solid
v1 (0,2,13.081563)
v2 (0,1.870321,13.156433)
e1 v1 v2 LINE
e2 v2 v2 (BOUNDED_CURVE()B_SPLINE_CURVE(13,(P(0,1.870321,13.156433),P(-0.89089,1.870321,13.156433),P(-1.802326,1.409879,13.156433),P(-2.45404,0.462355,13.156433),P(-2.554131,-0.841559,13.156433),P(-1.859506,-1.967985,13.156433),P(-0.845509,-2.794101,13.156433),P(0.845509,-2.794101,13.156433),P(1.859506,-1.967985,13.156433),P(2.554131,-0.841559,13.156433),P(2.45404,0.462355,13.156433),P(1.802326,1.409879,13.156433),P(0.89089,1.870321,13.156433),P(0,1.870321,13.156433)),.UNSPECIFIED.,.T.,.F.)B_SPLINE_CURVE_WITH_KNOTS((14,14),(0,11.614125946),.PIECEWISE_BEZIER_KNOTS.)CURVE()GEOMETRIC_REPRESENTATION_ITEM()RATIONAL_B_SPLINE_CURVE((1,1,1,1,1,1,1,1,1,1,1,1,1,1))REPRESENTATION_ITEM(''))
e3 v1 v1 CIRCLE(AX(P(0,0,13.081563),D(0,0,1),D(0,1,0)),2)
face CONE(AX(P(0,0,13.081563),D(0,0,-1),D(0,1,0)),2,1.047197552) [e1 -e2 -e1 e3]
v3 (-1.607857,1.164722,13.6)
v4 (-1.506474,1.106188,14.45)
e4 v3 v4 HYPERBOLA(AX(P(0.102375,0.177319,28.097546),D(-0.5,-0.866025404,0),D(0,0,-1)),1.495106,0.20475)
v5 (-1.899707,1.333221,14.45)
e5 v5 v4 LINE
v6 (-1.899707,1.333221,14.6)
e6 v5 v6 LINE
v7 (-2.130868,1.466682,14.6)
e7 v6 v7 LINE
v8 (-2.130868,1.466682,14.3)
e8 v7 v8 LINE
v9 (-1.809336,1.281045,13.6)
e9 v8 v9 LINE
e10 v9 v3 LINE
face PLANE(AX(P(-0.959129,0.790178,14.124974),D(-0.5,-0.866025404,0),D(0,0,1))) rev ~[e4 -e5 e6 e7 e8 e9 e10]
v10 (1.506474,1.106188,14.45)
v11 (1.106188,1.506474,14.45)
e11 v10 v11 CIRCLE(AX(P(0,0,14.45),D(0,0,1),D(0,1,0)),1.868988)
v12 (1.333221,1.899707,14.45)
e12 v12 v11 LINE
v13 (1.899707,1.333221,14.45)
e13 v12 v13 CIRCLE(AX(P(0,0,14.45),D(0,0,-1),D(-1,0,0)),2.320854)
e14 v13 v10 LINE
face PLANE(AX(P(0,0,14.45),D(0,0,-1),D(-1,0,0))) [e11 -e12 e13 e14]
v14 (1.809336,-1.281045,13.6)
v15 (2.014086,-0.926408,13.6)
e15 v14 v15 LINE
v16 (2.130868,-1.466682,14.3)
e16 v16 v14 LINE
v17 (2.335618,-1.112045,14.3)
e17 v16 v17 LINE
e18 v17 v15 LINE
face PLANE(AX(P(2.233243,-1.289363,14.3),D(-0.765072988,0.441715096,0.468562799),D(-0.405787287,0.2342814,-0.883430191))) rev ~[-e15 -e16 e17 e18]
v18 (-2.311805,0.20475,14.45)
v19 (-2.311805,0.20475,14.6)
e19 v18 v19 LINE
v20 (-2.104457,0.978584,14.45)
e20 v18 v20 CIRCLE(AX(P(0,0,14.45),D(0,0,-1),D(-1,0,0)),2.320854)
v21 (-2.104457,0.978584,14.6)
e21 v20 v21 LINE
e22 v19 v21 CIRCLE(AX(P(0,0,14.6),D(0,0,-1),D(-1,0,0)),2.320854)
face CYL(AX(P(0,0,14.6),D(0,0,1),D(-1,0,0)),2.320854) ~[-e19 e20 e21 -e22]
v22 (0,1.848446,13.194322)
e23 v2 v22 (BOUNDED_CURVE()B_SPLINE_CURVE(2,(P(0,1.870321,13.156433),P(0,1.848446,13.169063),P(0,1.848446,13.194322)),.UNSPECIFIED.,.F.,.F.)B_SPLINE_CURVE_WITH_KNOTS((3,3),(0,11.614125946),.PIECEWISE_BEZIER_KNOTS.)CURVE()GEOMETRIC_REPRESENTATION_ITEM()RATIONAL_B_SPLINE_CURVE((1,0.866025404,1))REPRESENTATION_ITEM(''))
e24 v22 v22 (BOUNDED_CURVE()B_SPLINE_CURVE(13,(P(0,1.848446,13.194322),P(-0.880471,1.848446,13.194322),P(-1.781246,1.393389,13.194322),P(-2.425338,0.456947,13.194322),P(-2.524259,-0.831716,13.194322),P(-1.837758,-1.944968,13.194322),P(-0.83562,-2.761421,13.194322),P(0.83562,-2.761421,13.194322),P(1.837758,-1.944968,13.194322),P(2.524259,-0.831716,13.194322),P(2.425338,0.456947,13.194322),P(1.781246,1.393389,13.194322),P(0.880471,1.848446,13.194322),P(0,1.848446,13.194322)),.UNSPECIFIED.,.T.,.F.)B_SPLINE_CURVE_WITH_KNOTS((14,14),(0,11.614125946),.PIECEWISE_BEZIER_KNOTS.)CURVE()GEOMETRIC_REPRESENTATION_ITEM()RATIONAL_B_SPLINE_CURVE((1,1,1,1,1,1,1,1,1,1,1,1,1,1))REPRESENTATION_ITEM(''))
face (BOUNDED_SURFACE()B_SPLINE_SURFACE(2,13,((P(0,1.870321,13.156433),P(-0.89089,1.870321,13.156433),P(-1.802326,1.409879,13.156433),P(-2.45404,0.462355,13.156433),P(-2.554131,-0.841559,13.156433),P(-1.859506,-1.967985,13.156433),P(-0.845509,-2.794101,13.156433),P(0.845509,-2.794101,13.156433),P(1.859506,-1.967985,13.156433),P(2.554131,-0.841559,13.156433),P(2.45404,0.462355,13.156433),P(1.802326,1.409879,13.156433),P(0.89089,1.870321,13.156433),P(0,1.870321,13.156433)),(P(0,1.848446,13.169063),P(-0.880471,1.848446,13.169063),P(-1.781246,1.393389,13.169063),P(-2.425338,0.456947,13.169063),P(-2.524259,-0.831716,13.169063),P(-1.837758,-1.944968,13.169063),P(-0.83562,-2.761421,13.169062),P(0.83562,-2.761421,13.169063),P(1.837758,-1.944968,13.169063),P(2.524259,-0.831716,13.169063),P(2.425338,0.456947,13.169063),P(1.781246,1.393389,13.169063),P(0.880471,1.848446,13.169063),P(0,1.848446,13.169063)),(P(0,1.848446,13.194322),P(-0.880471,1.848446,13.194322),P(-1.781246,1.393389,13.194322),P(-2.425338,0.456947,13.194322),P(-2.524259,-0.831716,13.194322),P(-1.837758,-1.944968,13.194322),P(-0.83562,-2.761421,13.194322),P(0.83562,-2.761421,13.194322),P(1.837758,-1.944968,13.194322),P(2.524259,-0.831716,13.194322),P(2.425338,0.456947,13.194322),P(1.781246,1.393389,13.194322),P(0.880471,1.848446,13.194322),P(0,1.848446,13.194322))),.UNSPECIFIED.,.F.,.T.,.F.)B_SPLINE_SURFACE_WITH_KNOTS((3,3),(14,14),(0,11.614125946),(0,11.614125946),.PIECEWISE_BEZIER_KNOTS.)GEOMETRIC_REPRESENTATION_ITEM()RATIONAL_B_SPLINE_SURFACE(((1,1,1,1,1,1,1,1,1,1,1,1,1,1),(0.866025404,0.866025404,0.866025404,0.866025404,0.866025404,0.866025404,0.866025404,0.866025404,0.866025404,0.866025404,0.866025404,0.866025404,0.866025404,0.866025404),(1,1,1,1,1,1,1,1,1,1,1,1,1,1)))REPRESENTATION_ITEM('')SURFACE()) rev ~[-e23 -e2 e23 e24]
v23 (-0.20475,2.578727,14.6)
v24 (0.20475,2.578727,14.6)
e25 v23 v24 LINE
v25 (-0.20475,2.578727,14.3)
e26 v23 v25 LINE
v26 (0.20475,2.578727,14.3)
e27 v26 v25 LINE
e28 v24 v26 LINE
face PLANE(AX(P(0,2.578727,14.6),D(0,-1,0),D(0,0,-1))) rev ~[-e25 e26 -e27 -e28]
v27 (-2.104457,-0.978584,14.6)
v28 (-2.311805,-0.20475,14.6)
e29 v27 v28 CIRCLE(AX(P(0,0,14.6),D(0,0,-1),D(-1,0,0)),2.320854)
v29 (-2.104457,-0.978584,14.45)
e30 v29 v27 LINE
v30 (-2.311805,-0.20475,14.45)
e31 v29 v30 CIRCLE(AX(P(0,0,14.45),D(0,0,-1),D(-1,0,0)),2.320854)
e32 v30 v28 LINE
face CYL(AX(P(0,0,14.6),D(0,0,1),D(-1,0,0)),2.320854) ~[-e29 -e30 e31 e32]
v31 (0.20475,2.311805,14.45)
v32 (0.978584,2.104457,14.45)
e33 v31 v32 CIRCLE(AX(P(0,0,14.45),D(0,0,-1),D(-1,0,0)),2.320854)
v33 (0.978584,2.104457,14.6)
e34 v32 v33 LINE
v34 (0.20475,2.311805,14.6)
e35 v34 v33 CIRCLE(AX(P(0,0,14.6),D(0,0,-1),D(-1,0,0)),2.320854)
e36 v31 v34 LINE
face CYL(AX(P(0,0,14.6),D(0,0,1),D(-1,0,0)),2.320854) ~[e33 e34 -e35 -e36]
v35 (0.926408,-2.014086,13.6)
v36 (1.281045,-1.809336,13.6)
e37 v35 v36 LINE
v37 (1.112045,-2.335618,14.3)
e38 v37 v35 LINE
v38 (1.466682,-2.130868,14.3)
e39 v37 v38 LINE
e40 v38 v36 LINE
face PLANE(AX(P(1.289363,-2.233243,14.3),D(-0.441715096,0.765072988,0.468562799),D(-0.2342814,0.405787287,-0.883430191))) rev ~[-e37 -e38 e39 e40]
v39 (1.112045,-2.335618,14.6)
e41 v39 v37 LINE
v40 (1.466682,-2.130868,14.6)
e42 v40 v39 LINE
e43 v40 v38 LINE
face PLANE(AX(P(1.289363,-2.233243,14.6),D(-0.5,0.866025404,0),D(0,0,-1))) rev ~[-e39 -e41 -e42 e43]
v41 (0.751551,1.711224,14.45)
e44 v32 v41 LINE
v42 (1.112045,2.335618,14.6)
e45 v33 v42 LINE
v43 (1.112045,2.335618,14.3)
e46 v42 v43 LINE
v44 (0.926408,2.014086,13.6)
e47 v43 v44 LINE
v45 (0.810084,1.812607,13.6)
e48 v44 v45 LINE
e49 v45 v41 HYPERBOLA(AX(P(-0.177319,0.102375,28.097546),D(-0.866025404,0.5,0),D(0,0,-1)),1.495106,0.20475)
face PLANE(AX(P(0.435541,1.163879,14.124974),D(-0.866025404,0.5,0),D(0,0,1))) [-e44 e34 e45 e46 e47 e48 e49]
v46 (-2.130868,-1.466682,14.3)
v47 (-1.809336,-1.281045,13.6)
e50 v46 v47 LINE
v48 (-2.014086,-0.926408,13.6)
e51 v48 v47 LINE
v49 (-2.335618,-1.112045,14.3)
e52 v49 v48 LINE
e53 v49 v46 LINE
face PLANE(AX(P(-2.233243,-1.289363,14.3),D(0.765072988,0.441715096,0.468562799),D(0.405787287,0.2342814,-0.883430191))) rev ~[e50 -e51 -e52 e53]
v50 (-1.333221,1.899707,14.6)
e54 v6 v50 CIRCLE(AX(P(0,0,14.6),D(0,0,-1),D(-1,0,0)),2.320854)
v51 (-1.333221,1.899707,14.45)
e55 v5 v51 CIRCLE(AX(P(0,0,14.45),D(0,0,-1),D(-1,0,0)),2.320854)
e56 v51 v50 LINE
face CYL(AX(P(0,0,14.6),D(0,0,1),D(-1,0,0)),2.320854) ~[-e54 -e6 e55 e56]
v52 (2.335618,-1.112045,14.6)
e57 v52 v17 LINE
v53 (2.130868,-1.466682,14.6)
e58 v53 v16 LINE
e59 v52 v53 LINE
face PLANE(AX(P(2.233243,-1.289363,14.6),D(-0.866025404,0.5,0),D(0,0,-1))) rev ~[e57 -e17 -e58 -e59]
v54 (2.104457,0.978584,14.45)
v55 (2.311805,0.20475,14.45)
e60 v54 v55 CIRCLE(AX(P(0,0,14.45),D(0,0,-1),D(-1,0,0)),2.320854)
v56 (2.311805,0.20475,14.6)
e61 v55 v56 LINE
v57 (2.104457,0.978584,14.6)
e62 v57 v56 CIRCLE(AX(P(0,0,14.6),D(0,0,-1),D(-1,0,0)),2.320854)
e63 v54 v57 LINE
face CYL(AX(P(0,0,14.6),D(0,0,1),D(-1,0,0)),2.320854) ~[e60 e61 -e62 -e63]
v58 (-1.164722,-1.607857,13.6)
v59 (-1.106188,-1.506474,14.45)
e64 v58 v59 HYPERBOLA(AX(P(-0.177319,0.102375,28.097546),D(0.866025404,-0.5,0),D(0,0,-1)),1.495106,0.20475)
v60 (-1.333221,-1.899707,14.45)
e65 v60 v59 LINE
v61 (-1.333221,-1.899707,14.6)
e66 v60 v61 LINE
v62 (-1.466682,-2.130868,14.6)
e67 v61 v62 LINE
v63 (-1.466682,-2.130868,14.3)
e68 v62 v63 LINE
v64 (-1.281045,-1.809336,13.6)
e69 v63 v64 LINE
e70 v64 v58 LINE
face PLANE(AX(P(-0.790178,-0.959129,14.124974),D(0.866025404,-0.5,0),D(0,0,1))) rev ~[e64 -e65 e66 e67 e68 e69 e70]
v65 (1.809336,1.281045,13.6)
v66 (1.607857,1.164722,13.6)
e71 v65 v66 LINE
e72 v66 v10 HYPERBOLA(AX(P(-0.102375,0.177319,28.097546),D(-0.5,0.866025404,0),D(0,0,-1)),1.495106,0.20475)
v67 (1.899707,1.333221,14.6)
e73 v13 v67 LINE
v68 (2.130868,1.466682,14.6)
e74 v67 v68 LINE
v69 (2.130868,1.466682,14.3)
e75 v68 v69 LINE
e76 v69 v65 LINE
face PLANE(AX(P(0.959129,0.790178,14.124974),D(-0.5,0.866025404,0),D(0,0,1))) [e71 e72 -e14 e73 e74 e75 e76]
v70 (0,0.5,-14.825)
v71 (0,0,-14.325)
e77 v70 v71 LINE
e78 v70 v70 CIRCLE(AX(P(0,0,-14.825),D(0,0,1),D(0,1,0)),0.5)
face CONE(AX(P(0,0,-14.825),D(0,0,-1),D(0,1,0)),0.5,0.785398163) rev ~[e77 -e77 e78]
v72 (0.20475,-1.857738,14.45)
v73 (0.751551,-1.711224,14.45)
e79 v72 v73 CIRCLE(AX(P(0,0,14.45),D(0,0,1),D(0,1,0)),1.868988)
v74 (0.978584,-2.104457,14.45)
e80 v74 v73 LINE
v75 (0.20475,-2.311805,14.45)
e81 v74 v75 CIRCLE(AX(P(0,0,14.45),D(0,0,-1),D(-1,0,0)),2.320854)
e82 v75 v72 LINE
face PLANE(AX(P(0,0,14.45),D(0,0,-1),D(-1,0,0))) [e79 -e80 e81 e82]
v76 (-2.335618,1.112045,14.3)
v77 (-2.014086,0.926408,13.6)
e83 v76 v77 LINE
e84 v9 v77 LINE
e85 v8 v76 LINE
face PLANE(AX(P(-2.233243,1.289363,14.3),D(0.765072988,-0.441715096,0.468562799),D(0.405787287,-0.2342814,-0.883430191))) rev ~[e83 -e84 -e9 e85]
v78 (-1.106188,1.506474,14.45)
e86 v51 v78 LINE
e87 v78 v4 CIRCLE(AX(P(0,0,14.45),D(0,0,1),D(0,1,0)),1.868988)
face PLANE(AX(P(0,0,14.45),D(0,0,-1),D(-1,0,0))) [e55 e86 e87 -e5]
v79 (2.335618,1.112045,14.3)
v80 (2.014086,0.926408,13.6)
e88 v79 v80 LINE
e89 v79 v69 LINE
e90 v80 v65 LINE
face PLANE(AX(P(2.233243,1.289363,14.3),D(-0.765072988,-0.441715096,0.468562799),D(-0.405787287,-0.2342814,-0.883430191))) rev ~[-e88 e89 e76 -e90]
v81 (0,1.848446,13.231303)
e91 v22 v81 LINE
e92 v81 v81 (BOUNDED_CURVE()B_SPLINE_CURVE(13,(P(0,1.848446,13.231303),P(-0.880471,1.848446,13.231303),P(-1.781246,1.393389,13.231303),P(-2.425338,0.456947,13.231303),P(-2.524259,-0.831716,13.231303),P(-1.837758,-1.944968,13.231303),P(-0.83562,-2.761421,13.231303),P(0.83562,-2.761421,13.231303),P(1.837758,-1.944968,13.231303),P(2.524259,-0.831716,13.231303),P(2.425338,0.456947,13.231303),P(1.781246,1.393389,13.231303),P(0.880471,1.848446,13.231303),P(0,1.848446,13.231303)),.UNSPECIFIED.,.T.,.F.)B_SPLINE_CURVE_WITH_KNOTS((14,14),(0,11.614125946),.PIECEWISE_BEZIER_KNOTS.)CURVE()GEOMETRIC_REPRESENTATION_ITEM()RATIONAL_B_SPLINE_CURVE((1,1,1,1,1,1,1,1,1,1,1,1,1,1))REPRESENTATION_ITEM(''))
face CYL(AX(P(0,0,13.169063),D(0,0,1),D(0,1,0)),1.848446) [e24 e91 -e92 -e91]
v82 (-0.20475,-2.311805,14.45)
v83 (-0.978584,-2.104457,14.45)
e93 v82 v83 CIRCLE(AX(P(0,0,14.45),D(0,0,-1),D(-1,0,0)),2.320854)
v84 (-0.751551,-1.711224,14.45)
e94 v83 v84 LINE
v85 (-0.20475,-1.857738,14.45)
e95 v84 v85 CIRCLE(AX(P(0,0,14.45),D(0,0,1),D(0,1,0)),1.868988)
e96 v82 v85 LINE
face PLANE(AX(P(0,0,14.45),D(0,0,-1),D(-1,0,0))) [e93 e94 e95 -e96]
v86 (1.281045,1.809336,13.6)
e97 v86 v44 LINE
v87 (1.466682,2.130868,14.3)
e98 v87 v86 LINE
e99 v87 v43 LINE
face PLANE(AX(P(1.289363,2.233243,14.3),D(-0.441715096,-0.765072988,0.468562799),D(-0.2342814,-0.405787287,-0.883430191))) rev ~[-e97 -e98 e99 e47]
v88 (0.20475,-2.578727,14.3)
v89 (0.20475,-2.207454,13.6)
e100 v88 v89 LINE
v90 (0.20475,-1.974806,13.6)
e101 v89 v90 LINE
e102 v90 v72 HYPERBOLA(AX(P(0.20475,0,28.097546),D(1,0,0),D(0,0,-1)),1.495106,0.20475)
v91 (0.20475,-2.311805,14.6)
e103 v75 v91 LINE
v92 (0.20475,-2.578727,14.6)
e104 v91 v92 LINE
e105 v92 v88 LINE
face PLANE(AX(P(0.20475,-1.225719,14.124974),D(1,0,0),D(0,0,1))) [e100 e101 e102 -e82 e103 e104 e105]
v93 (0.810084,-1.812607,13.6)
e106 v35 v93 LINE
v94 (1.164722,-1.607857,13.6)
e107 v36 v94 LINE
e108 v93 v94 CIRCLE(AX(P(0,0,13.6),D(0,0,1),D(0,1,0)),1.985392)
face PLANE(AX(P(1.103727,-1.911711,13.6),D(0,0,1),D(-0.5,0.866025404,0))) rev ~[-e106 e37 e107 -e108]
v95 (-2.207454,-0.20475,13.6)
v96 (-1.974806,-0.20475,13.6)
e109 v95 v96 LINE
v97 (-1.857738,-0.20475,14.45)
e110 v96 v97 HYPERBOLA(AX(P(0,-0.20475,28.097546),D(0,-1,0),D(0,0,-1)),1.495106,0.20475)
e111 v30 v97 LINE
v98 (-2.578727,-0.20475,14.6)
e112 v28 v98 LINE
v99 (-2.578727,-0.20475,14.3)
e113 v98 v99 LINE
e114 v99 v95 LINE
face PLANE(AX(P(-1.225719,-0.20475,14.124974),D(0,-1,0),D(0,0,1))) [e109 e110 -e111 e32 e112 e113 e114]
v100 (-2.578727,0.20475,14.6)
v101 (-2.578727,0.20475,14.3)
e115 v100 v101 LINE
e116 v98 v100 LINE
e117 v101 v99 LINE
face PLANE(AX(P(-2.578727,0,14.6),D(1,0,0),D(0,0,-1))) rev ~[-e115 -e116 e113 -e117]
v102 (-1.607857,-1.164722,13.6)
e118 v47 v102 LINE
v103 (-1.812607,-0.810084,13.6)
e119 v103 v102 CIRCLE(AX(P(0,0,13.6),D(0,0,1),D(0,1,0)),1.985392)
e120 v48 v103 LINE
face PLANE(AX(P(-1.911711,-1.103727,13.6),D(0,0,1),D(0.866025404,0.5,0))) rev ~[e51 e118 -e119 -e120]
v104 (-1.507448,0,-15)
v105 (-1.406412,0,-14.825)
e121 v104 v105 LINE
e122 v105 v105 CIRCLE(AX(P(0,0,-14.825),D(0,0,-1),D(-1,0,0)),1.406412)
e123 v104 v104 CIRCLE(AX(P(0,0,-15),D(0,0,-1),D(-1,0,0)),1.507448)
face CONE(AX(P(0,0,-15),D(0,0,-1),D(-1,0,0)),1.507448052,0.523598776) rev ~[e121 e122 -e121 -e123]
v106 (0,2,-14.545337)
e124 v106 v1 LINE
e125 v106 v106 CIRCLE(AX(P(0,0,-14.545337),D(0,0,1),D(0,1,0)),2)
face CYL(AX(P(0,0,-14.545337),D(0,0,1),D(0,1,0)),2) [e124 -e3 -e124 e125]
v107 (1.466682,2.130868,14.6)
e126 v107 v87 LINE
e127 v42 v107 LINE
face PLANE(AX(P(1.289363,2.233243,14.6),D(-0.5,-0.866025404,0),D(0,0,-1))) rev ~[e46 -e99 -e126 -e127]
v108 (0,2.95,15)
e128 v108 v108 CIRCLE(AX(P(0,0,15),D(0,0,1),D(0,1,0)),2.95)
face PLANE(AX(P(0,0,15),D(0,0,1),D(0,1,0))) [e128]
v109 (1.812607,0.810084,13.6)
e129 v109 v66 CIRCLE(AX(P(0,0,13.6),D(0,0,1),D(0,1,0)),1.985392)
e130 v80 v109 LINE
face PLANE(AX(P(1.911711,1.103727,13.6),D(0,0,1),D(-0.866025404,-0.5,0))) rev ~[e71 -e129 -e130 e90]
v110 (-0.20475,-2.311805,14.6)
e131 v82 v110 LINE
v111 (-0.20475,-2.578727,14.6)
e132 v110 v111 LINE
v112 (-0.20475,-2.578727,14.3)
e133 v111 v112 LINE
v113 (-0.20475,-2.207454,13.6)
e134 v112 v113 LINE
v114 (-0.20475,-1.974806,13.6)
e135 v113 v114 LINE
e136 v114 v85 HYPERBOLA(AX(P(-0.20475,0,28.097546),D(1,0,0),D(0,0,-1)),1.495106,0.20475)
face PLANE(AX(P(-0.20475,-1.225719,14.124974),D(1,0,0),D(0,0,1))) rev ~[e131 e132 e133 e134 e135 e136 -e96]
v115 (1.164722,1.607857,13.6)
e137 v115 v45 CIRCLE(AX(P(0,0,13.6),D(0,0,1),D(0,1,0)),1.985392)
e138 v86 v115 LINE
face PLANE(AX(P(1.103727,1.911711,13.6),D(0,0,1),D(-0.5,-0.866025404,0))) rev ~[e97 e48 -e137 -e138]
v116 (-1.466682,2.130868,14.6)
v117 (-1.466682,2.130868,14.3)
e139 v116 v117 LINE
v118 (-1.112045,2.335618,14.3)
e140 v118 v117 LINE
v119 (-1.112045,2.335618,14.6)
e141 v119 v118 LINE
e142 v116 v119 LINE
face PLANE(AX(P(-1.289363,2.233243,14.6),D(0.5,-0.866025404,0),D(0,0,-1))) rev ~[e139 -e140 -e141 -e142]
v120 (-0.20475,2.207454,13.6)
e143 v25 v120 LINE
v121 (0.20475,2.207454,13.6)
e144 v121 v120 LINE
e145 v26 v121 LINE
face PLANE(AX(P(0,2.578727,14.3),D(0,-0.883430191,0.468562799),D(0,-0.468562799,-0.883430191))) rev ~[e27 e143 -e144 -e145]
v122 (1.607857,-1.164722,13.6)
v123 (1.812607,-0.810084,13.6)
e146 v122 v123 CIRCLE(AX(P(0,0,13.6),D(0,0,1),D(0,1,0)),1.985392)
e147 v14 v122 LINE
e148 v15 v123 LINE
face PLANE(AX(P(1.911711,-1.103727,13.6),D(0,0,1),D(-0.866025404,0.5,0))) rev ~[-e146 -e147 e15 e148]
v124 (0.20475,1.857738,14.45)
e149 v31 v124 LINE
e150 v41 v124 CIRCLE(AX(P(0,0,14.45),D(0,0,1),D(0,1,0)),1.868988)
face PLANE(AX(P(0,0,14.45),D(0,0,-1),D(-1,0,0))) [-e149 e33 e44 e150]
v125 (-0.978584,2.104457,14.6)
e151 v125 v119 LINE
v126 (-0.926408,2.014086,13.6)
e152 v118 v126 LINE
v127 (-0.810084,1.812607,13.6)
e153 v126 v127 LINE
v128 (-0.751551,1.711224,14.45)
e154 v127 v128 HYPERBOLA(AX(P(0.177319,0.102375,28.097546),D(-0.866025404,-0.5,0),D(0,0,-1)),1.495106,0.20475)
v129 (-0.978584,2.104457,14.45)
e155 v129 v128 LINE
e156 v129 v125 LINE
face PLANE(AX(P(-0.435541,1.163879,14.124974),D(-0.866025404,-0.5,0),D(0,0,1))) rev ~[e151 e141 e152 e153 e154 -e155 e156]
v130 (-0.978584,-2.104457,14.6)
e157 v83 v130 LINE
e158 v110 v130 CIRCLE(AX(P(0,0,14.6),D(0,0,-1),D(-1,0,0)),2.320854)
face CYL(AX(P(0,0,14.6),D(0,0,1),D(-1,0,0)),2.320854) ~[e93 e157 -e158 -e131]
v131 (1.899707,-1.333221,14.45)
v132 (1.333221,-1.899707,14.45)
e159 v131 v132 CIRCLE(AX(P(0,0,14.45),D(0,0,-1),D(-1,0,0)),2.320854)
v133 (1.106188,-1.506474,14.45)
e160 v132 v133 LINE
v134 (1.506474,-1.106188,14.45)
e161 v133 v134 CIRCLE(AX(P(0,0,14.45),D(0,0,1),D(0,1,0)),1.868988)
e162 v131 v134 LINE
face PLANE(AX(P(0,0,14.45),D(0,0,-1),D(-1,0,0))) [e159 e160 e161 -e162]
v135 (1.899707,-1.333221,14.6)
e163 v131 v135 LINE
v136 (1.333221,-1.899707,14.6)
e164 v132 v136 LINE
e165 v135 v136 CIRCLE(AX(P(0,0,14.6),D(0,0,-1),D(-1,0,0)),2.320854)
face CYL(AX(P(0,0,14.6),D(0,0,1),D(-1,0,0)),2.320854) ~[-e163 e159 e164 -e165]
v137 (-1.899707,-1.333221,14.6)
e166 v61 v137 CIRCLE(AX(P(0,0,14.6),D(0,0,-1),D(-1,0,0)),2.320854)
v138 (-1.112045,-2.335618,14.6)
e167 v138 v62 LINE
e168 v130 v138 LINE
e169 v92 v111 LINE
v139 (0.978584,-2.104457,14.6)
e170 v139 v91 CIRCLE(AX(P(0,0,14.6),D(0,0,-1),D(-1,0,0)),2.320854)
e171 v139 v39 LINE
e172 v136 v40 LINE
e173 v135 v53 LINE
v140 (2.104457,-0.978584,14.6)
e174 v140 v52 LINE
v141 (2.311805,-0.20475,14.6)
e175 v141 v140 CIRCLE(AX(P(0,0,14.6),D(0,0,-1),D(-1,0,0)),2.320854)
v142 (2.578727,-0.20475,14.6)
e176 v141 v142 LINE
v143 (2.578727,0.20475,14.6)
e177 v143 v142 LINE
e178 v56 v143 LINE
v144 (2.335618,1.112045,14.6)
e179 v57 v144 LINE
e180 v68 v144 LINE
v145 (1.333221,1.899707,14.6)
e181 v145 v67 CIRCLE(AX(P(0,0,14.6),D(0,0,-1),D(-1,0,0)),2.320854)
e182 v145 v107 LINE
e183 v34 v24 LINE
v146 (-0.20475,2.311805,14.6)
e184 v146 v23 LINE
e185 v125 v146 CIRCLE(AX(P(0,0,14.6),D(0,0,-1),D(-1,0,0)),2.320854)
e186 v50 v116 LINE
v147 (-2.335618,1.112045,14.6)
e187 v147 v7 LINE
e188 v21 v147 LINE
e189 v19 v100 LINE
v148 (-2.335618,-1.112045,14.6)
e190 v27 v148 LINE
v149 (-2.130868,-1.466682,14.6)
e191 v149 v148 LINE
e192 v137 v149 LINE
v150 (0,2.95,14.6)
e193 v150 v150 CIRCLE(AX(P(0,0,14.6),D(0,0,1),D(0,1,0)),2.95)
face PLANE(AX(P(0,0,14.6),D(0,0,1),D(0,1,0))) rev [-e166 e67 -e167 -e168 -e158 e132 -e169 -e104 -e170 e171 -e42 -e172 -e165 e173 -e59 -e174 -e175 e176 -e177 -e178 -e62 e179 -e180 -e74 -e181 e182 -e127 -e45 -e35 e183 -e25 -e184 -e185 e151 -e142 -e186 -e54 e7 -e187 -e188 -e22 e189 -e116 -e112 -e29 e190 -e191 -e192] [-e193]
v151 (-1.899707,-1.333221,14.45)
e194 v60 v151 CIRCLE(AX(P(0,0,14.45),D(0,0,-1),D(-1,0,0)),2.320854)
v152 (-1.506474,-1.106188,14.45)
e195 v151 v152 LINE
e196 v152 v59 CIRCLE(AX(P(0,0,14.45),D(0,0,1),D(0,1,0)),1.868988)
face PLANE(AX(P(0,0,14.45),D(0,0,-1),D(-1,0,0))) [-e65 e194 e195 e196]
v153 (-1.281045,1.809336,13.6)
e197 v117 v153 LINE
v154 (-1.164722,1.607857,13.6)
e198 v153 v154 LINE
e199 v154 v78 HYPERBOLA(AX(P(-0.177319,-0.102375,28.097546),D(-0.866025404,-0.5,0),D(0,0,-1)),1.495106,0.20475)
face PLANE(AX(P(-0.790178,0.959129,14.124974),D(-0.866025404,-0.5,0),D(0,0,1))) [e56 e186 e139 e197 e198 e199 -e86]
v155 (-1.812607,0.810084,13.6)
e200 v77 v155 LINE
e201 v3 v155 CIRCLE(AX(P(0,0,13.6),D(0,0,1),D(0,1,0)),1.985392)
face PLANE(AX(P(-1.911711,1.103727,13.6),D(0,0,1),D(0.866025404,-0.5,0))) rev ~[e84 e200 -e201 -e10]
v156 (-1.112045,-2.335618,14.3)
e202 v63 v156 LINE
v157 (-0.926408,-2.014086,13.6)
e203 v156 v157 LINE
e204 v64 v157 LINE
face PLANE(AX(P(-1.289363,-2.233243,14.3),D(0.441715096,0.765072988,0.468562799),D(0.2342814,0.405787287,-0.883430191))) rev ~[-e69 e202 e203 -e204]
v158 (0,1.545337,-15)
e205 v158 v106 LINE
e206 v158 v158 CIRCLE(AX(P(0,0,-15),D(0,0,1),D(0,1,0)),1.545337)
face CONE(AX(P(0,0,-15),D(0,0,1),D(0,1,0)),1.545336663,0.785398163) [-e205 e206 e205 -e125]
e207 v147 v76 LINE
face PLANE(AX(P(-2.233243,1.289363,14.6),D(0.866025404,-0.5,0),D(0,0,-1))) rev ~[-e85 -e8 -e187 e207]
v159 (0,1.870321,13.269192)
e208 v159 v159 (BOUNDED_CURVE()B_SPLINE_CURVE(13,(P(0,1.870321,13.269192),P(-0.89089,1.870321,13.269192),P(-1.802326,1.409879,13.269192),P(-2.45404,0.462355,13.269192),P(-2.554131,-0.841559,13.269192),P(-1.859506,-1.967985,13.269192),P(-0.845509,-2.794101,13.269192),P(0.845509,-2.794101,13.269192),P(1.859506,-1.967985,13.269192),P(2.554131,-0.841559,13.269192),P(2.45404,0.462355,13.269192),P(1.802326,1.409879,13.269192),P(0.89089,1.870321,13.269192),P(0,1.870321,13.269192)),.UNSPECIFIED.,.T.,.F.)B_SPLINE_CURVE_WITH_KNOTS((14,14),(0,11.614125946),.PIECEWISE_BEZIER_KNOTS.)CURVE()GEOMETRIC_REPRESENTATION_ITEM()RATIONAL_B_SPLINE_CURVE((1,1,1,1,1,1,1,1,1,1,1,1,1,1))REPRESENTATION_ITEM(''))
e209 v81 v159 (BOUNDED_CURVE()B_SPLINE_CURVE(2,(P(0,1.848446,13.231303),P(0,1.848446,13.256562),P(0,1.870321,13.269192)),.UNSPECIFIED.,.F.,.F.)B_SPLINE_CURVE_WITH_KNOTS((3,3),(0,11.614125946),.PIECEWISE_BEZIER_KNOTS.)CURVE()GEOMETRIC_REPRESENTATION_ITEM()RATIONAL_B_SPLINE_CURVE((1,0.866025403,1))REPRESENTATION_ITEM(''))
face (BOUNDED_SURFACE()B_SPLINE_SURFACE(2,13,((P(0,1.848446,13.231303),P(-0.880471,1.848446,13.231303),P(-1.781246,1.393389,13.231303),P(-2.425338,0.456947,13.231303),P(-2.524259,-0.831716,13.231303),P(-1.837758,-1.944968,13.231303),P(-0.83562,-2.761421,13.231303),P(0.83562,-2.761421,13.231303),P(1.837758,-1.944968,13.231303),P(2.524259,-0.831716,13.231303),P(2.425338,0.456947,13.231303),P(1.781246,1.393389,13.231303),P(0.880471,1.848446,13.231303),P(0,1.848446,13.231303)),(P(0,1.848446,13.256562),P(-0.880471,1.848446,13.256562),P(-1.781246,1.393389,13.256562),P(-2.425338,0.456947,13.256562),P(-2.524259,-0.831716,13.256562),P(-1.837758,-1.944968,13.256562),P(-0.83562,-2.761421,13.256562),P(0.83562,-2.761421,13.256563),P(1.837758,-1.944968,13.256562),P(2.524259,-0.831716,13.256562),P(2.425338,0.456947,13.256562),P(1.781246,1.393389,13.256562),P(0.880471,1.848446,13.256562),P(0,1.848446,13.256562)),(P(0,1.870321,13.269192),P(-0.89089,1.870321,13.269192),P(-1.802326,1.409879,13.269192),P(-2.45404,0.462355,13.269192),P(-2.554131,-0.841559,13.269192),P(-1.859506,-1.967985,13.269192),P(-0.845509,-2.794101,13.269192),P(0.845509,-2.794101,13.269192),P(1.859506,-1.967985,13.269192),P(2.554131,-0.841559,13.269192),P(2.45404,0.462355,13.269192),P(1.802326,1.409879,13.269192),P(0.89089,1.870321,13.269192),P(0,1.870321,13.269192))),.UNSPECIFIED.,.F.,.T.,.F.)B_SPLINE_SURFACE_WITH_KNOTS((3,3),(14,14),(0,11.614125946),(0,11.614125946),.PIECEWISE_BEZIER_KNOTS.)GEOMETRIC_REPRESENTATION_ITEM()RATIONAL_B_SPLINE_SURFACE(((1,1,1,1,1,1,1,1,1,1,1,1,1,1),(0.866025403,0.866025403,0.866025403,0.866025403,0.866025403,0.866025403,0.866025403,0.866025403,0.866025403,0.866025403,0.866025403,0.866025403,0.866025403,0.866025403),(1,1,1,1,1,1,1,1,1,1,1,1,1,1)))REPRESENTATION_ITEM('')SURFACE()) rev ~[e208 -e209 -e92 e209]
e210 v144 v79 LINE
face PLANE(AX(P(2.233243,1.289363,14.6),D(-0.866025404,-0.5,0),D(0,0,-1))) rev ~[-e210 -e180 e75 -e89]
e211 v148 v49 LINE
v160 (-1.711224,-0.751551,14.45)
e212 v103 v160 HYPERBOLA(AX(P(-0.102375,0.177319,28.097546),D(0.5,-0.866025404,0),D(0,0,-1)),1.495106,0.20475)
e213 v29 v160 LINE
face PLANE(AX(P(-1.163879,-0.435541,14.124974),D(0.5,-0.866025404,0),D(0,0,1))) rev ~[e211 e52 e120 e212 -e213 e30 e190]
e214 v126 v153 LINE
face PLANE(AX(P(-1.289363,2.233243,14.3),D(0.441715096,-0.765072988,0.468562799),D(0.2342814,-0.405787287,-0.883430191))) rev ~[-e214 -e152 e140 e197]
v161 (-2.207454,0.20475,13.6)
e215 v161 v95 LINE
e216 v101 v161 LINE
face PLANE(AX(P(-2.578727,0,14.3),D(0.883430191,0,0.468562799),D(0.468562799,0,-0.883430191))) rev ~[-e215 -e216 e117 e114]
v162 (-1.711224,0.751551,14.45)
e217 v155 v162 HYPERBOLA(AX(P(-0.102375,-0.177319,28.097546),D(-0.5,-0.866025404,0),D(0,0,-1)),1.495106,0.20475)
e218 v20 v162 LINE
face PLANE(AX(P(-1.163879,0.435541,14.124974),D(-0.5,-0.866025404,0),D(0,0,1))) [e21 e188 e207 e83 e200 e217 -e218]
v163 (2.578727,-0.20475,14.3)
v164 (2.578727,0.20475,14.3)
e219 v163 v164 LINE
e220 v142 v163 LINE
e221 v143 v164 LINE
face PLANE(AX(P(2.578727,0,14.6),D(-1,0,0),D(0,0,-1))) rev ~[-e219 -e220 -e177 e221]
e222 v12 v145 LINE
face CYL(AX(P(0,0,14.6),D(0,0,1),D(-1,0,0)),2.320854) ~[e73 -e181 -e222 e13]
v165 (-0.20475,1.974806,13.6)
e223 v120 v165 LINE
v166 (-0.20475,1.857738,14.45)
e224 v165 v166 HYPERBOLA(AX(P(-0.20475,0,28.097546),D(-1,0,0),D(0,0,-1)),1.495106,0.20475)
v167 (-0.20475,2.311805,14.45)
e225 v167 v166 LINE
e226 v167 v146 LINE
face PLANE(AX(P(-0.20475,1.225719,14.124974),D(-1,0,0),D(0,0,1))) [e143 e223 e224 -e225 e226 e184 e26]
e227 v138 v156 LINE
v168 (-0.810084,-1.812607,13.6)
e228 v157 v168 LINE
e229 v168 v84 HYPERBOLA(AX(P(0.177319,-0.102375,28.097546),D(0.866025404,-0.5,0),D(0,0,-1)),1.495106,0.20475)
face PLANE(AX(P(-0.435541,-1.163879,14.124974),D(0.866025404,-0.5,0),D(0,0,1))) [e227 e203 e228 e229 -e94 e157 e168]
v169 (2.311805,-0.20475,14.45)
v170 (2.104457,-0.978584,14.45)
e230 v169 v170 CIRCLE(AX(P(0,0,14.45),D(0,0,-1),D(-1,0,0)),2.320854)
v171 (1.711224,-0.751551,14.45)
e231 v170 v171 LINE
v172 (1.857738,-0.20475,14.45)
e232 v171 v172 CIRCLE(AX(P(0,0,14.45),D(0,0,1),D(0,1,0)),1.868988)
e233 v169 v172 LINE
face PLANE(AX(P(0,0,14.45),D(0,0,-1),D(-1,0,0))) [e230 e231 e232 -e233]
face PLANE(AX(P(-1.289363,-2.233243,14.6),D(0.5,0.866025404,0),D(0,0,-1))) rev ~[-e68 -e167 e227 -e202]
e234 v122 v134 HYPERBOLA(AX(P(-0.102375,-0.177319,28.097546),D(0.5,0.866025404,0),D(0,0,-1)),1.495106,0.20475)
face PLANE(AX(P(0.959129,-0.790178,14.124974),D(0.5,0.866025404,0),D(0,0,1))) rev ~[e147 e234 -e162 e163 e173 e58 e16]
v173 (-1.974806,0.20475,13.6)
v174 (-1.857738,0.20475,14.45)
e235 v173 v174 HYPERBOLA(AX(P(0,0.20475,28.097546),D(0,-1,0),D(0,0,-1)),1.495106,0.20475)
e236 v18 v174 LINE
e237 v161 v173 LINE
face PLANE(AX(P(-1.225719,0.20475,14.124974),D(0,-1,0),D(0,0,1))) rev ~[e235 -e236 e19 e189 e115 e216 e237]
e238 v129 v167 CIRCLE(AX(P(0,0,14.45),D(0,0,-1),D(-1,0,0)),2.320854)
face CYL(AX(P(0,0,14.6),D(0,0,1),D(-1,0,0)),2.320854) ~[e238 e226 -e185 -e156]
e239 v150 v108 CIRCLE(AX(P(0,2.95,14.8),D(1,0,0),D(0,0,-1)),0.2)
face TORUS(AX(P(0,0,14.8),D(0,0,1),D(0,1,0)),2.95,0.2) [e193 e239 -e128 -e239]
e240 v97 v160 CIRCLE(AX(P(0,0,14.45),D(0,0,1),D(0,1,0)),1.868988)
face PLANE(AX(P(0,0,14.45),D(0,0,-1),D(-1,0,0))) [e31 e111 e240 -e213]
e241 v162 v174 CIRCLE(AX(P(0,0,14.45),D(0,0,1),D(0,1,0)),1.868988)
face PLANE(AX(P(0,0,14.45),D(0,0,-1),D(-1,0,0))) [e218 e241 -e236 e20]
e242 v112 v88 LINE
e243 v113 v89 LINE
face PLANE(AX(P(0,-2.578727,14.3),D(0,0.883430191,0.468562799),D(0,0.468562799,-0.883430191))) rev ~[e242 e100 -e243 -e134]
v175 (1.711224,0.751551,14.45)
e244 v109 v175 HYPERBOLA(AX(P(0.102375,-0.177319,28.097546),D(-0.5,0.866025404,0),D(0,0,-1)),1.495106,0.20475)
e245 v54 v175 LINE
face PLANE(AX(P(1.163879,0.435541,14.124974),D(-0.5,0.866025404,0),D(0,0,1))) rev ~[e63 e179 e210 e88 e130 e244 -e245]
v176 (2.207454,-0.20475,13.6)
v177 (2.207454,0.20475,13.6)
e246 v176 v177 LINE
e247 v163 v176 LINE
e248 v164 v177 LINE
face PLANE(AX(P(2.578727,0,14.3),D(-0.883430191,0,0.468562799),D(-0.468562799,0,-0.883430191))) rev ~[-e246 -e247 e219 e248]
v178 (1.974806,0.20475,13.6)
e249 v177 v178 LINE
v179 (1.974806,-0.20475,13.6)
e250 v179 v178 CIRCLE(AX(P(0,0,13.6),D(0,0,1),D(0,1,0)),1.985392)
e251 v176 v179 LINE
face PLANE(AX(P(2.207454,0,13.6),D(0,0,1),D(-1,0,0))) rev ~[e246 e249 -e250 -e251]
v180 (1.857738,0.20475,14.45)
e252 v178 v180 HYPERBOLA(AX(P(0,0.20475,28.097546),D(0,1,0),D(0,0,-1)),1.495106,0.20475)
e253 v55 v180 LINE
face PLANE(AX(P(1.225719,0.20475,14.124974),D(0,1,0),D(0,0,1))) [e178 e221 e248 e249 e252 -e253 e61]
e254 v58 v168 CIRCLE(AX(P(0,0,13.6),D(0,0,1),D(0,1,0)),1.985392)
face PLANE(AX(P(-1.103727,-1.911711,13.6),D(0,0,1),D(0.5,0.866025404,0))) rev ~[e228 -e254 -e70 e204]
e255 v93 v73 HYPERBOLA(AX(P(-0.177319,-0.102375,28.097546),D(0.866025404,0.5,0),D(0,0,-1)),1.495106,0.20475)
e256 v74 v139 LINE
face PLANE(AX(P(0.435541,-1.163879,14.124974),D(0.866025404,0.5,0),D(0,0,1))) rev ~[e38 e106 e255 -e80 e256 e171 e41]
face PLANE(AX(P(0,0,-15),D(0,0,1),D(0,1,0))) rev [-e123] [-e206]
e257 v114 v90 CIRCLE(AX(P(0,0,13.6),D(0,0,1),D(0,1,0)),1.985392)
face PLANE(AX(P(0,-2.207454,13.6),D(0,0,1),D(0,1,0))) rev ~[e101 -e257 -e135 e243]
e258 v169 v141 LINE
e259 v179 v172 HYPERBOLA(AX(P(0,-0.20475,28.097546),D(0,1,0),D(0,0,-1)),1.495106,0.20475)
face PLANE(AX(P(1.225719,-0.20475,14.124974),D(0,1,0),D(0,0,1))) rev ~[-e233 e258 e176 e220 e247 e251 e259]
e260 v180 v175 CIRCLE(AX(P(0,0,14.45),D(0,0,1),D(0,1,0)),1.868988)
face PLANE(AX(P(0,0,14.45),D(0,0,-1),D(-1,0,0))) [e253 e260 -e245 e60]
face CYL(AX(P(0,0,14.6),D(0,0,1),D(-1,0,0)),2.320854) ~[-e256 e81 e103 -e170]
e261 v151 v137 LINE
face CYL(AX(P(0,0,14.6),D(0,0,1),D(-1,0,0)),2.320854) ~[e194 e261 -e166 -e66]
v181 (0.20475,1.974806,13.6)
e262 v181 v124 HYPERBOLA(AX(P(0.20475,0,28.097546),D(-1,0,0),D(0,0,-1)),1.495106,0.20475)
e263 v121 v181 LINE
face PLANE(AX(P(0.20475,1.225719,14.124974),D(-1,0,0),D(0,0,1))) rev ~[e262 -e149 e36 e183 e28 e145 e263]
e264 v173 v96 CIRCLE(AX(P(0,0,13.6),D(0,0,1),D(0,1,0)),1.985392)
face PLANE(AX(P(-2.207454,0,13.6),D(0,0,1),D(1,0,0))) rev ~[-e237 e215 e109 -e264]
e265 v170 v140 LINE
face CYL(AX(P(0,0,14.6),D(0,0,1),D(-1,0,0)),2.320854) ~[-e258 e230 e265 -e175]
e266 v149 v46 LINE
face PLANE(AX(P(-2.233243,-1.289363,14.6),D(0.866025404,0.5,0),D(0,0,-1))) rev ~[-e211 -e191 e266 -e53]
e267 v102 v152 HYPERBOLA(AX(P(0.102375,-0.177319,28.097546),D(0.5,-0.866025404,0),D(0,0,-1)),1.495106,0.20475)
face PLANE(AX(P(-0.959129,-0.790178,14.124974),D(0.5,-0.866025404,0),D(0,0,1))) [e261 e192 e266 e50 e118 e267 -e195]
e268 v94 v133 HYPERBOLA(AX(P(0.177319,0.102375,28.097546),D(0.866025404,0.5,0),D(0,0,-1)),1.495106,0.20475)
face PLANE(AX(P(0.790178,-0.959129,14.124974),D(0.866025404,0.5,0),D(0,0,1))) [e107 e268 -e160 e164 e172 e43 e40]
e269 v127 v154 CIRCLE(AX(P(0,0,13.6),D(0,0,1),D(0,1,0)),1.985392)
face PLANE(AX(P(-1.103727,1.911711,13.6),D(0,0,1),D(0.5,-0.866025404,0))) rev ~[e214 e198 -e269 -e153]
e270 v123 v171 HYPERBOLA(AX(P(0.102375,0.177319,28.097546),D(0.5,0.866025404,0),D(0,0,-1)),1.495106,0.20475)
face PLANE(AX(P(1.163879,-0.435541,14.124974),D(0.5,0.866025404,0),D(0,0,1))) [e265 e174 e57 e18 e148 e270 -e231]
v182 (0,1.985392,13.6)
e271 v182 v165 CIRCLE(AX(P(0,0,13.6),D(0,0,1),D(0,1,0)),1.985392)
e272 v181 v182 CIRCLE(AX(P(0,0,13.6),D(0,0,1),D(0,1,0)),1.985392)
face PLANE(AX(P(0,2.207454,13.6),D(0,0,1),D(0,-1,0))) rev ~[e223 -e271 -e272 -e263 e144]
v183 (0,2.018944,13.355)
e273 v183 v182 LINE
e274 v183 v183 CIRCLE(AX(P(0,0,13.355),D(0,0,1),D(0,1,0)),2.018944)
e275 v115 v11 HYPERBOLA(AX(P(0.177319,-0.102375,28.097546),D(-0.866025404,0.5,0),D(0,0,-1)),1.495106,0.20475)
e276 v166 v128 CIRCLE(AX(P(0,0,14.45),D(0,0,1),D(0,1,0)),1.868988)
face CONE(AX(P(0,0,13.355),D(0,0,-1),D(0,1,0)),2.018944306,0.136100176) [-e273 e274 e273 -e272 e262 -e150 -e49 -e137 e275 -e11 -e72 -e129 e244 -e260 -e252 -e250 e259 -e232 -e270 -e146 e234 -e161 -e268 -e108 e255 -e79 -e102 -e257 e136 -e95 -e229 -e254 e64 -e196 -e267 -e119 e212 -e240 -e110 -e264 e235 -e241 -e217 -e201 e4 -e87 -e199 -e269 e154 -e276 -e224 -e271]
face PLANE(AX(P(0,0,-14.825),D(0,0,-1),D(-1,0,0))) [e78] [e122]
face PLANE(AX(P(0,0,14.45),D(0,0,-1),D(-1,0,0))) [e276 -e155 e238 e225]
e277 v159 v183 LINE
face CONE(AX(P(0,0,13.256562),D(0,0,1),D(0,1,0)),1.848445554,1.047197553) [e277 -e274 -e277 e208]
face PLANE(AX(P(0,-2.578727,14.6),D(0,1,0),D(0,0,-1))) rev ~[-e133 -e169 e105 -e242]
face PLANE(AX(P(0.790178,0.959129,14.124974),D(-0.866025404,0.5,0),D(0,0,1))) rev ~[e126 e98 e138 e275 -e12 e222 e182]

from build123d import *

# Parameters (mm, degrees)
FILLET2_R           = 0.04375
SKETCH16_R          = 1.507448052
CUT_EXTRUDE3_DEPTH  = 0.175
CUT_EXTRUDE3_DRAFT  = -30
BOSS_EXTRUDE1_DEPTH = 0.20475
CIRPATTERN3_COUNT   = 12
SKETCH14_R          = 2.320854115
BOSS_EXTRUDE3_DEPTH = 0.15


with BuildPart() as part:
    # Sketch7 → Revolve3 (revolve)
    with BuildSketch(Plane(origin=(0, 0, 0), x_dir=(0, 0, -1), z_dir=(1, 0, 0))):
        with BuildLine():
            Line((15, 1.545336663), (14.545336663, 2))
            Line((14.545336663, 2), (-13.0815625, 2))
            Line((-13.0815625, 2), (-13.1690625, 1.848445554))
            Line((-13.1690625, 1.848445554), (-13.2565625, 1.848445554))
            Line((-13.2565625, 1.848445554), (-13.355, 2.018944306))
            Line((-13.355, 2.018944306), (-14.6, 1.848445554))
            Line((-14.6, 1.848445554), (-14.6, 2))
            Line((-14.6, 2), (-14.6, 2.95))
            ThreePointArc((-14.6, 2.95), (-14.8, 3.15), (-15, 2.95))
            Line((-15, 2.95), (-15, 0))
            Line((-15, 0), (15, 0))
            Line((15, 0), (15, 1.545336663))
        make_face()
    revolve(axis=Axis((0, 0, -15), (0, 0, 1)))

    # Fillet2
    fillet2_edges = [part.edges().sort_by_distance(p)[0] for p in [
        (0, -1.848445554, 13.2565625),
        (0, -1.848445554, 13.1690625),
    ]]
    fillet(fillet2_edges, radius=FILLET2_R)


with BuildPart() as cut_extrude3_tool:
    # Sketch16 → Cut-Extrude3 (with draft: the straight prism first)
    with BuildSketch(Plane(origin=(0, 0, -15), x_dir=(-1, 0, 0), z_dir=(0, 0, -1))):
        Circle(SKETCH16_R)
    extrude(amount=-CUT_EXTRUDE3_DEPTH)
    # Cut-Extrude3: the draft: its side faces are tilted about the plane it starts from
    cut_extrude3_sides = [cut_extrude3_tool.faces().sort_by_distance(p)[0] for p in [
        (1.507448052, 0, -14.9125),
    ]]
    draft(cut_extrude3_sides, Plane(origin=(0, 0, -15), x_dir=(-1, 0, 0), z_dir=(0, 0, -1)), CUT_EXTRUDE3_DRAFT)


with BuildPart() as part_1:
    add(part.part)

    # Cut-Extrude3: cut by cut_extrude3_tool
    add(cut_extrude3_tool.part, mode=Mode.SUBTRACT)

    # Cut-Extrude1 cone 1 section (through the dimple's axis) → Cut-Extrude1 (revolve, cut)
    with BuildSketch(Plane(origin=(0, 0, -14.825), x_dir=(0, 1, 0), z_dir=(1, 0, 0))):
        Polygon((0, 0), (0.5, 0), (0, 0.5), align=None)
    revolve(axis=Axis((0, 0, -14.825), (0, 0, 1)), mode=Mode.SUBTRACT)

    # Sketch9 → Boss-Extrude1 (add, symmetric)
    with BuildSketch(Plane(origin=(0, 0, 0), x_dir=(0, 0, -1), z_dir=(1, 0, 0))):
        Polygon((-14.6, 2.578726794), (-14.3, 2.578726794), (-13.6, 2.207453588), (-13.6, 0), (-14.6, 0), align=None)
    boss_extrude1 = extrude(amount=BOSS_EXTRUDE1_DEPTH, both=True)

    # CirPattern3: Boss-Extrude1 ×12 about axis
    cirpattern3_axis = Axis((0, 0, 0), (0, 0, 1))
    for i in range(1, CIRPATTERN3_COUNT):
        add(boss_extrude1.rotate(cirpattern3_axis, i * 360 / CIRPATTERN3_COUNT))

    # Sketch14 → Boss-Extrude3 (add)
    with BuildSketch(Plane(origin=(0, 0, 14.6), x_dir=(-1, 0, 0), z_dir=(0, 0, -1))):
        Circle(SKETCH14_R)
    extrude(amount=BOSS_EXTRUDE3_DEPTH)


solid = part_1.part
